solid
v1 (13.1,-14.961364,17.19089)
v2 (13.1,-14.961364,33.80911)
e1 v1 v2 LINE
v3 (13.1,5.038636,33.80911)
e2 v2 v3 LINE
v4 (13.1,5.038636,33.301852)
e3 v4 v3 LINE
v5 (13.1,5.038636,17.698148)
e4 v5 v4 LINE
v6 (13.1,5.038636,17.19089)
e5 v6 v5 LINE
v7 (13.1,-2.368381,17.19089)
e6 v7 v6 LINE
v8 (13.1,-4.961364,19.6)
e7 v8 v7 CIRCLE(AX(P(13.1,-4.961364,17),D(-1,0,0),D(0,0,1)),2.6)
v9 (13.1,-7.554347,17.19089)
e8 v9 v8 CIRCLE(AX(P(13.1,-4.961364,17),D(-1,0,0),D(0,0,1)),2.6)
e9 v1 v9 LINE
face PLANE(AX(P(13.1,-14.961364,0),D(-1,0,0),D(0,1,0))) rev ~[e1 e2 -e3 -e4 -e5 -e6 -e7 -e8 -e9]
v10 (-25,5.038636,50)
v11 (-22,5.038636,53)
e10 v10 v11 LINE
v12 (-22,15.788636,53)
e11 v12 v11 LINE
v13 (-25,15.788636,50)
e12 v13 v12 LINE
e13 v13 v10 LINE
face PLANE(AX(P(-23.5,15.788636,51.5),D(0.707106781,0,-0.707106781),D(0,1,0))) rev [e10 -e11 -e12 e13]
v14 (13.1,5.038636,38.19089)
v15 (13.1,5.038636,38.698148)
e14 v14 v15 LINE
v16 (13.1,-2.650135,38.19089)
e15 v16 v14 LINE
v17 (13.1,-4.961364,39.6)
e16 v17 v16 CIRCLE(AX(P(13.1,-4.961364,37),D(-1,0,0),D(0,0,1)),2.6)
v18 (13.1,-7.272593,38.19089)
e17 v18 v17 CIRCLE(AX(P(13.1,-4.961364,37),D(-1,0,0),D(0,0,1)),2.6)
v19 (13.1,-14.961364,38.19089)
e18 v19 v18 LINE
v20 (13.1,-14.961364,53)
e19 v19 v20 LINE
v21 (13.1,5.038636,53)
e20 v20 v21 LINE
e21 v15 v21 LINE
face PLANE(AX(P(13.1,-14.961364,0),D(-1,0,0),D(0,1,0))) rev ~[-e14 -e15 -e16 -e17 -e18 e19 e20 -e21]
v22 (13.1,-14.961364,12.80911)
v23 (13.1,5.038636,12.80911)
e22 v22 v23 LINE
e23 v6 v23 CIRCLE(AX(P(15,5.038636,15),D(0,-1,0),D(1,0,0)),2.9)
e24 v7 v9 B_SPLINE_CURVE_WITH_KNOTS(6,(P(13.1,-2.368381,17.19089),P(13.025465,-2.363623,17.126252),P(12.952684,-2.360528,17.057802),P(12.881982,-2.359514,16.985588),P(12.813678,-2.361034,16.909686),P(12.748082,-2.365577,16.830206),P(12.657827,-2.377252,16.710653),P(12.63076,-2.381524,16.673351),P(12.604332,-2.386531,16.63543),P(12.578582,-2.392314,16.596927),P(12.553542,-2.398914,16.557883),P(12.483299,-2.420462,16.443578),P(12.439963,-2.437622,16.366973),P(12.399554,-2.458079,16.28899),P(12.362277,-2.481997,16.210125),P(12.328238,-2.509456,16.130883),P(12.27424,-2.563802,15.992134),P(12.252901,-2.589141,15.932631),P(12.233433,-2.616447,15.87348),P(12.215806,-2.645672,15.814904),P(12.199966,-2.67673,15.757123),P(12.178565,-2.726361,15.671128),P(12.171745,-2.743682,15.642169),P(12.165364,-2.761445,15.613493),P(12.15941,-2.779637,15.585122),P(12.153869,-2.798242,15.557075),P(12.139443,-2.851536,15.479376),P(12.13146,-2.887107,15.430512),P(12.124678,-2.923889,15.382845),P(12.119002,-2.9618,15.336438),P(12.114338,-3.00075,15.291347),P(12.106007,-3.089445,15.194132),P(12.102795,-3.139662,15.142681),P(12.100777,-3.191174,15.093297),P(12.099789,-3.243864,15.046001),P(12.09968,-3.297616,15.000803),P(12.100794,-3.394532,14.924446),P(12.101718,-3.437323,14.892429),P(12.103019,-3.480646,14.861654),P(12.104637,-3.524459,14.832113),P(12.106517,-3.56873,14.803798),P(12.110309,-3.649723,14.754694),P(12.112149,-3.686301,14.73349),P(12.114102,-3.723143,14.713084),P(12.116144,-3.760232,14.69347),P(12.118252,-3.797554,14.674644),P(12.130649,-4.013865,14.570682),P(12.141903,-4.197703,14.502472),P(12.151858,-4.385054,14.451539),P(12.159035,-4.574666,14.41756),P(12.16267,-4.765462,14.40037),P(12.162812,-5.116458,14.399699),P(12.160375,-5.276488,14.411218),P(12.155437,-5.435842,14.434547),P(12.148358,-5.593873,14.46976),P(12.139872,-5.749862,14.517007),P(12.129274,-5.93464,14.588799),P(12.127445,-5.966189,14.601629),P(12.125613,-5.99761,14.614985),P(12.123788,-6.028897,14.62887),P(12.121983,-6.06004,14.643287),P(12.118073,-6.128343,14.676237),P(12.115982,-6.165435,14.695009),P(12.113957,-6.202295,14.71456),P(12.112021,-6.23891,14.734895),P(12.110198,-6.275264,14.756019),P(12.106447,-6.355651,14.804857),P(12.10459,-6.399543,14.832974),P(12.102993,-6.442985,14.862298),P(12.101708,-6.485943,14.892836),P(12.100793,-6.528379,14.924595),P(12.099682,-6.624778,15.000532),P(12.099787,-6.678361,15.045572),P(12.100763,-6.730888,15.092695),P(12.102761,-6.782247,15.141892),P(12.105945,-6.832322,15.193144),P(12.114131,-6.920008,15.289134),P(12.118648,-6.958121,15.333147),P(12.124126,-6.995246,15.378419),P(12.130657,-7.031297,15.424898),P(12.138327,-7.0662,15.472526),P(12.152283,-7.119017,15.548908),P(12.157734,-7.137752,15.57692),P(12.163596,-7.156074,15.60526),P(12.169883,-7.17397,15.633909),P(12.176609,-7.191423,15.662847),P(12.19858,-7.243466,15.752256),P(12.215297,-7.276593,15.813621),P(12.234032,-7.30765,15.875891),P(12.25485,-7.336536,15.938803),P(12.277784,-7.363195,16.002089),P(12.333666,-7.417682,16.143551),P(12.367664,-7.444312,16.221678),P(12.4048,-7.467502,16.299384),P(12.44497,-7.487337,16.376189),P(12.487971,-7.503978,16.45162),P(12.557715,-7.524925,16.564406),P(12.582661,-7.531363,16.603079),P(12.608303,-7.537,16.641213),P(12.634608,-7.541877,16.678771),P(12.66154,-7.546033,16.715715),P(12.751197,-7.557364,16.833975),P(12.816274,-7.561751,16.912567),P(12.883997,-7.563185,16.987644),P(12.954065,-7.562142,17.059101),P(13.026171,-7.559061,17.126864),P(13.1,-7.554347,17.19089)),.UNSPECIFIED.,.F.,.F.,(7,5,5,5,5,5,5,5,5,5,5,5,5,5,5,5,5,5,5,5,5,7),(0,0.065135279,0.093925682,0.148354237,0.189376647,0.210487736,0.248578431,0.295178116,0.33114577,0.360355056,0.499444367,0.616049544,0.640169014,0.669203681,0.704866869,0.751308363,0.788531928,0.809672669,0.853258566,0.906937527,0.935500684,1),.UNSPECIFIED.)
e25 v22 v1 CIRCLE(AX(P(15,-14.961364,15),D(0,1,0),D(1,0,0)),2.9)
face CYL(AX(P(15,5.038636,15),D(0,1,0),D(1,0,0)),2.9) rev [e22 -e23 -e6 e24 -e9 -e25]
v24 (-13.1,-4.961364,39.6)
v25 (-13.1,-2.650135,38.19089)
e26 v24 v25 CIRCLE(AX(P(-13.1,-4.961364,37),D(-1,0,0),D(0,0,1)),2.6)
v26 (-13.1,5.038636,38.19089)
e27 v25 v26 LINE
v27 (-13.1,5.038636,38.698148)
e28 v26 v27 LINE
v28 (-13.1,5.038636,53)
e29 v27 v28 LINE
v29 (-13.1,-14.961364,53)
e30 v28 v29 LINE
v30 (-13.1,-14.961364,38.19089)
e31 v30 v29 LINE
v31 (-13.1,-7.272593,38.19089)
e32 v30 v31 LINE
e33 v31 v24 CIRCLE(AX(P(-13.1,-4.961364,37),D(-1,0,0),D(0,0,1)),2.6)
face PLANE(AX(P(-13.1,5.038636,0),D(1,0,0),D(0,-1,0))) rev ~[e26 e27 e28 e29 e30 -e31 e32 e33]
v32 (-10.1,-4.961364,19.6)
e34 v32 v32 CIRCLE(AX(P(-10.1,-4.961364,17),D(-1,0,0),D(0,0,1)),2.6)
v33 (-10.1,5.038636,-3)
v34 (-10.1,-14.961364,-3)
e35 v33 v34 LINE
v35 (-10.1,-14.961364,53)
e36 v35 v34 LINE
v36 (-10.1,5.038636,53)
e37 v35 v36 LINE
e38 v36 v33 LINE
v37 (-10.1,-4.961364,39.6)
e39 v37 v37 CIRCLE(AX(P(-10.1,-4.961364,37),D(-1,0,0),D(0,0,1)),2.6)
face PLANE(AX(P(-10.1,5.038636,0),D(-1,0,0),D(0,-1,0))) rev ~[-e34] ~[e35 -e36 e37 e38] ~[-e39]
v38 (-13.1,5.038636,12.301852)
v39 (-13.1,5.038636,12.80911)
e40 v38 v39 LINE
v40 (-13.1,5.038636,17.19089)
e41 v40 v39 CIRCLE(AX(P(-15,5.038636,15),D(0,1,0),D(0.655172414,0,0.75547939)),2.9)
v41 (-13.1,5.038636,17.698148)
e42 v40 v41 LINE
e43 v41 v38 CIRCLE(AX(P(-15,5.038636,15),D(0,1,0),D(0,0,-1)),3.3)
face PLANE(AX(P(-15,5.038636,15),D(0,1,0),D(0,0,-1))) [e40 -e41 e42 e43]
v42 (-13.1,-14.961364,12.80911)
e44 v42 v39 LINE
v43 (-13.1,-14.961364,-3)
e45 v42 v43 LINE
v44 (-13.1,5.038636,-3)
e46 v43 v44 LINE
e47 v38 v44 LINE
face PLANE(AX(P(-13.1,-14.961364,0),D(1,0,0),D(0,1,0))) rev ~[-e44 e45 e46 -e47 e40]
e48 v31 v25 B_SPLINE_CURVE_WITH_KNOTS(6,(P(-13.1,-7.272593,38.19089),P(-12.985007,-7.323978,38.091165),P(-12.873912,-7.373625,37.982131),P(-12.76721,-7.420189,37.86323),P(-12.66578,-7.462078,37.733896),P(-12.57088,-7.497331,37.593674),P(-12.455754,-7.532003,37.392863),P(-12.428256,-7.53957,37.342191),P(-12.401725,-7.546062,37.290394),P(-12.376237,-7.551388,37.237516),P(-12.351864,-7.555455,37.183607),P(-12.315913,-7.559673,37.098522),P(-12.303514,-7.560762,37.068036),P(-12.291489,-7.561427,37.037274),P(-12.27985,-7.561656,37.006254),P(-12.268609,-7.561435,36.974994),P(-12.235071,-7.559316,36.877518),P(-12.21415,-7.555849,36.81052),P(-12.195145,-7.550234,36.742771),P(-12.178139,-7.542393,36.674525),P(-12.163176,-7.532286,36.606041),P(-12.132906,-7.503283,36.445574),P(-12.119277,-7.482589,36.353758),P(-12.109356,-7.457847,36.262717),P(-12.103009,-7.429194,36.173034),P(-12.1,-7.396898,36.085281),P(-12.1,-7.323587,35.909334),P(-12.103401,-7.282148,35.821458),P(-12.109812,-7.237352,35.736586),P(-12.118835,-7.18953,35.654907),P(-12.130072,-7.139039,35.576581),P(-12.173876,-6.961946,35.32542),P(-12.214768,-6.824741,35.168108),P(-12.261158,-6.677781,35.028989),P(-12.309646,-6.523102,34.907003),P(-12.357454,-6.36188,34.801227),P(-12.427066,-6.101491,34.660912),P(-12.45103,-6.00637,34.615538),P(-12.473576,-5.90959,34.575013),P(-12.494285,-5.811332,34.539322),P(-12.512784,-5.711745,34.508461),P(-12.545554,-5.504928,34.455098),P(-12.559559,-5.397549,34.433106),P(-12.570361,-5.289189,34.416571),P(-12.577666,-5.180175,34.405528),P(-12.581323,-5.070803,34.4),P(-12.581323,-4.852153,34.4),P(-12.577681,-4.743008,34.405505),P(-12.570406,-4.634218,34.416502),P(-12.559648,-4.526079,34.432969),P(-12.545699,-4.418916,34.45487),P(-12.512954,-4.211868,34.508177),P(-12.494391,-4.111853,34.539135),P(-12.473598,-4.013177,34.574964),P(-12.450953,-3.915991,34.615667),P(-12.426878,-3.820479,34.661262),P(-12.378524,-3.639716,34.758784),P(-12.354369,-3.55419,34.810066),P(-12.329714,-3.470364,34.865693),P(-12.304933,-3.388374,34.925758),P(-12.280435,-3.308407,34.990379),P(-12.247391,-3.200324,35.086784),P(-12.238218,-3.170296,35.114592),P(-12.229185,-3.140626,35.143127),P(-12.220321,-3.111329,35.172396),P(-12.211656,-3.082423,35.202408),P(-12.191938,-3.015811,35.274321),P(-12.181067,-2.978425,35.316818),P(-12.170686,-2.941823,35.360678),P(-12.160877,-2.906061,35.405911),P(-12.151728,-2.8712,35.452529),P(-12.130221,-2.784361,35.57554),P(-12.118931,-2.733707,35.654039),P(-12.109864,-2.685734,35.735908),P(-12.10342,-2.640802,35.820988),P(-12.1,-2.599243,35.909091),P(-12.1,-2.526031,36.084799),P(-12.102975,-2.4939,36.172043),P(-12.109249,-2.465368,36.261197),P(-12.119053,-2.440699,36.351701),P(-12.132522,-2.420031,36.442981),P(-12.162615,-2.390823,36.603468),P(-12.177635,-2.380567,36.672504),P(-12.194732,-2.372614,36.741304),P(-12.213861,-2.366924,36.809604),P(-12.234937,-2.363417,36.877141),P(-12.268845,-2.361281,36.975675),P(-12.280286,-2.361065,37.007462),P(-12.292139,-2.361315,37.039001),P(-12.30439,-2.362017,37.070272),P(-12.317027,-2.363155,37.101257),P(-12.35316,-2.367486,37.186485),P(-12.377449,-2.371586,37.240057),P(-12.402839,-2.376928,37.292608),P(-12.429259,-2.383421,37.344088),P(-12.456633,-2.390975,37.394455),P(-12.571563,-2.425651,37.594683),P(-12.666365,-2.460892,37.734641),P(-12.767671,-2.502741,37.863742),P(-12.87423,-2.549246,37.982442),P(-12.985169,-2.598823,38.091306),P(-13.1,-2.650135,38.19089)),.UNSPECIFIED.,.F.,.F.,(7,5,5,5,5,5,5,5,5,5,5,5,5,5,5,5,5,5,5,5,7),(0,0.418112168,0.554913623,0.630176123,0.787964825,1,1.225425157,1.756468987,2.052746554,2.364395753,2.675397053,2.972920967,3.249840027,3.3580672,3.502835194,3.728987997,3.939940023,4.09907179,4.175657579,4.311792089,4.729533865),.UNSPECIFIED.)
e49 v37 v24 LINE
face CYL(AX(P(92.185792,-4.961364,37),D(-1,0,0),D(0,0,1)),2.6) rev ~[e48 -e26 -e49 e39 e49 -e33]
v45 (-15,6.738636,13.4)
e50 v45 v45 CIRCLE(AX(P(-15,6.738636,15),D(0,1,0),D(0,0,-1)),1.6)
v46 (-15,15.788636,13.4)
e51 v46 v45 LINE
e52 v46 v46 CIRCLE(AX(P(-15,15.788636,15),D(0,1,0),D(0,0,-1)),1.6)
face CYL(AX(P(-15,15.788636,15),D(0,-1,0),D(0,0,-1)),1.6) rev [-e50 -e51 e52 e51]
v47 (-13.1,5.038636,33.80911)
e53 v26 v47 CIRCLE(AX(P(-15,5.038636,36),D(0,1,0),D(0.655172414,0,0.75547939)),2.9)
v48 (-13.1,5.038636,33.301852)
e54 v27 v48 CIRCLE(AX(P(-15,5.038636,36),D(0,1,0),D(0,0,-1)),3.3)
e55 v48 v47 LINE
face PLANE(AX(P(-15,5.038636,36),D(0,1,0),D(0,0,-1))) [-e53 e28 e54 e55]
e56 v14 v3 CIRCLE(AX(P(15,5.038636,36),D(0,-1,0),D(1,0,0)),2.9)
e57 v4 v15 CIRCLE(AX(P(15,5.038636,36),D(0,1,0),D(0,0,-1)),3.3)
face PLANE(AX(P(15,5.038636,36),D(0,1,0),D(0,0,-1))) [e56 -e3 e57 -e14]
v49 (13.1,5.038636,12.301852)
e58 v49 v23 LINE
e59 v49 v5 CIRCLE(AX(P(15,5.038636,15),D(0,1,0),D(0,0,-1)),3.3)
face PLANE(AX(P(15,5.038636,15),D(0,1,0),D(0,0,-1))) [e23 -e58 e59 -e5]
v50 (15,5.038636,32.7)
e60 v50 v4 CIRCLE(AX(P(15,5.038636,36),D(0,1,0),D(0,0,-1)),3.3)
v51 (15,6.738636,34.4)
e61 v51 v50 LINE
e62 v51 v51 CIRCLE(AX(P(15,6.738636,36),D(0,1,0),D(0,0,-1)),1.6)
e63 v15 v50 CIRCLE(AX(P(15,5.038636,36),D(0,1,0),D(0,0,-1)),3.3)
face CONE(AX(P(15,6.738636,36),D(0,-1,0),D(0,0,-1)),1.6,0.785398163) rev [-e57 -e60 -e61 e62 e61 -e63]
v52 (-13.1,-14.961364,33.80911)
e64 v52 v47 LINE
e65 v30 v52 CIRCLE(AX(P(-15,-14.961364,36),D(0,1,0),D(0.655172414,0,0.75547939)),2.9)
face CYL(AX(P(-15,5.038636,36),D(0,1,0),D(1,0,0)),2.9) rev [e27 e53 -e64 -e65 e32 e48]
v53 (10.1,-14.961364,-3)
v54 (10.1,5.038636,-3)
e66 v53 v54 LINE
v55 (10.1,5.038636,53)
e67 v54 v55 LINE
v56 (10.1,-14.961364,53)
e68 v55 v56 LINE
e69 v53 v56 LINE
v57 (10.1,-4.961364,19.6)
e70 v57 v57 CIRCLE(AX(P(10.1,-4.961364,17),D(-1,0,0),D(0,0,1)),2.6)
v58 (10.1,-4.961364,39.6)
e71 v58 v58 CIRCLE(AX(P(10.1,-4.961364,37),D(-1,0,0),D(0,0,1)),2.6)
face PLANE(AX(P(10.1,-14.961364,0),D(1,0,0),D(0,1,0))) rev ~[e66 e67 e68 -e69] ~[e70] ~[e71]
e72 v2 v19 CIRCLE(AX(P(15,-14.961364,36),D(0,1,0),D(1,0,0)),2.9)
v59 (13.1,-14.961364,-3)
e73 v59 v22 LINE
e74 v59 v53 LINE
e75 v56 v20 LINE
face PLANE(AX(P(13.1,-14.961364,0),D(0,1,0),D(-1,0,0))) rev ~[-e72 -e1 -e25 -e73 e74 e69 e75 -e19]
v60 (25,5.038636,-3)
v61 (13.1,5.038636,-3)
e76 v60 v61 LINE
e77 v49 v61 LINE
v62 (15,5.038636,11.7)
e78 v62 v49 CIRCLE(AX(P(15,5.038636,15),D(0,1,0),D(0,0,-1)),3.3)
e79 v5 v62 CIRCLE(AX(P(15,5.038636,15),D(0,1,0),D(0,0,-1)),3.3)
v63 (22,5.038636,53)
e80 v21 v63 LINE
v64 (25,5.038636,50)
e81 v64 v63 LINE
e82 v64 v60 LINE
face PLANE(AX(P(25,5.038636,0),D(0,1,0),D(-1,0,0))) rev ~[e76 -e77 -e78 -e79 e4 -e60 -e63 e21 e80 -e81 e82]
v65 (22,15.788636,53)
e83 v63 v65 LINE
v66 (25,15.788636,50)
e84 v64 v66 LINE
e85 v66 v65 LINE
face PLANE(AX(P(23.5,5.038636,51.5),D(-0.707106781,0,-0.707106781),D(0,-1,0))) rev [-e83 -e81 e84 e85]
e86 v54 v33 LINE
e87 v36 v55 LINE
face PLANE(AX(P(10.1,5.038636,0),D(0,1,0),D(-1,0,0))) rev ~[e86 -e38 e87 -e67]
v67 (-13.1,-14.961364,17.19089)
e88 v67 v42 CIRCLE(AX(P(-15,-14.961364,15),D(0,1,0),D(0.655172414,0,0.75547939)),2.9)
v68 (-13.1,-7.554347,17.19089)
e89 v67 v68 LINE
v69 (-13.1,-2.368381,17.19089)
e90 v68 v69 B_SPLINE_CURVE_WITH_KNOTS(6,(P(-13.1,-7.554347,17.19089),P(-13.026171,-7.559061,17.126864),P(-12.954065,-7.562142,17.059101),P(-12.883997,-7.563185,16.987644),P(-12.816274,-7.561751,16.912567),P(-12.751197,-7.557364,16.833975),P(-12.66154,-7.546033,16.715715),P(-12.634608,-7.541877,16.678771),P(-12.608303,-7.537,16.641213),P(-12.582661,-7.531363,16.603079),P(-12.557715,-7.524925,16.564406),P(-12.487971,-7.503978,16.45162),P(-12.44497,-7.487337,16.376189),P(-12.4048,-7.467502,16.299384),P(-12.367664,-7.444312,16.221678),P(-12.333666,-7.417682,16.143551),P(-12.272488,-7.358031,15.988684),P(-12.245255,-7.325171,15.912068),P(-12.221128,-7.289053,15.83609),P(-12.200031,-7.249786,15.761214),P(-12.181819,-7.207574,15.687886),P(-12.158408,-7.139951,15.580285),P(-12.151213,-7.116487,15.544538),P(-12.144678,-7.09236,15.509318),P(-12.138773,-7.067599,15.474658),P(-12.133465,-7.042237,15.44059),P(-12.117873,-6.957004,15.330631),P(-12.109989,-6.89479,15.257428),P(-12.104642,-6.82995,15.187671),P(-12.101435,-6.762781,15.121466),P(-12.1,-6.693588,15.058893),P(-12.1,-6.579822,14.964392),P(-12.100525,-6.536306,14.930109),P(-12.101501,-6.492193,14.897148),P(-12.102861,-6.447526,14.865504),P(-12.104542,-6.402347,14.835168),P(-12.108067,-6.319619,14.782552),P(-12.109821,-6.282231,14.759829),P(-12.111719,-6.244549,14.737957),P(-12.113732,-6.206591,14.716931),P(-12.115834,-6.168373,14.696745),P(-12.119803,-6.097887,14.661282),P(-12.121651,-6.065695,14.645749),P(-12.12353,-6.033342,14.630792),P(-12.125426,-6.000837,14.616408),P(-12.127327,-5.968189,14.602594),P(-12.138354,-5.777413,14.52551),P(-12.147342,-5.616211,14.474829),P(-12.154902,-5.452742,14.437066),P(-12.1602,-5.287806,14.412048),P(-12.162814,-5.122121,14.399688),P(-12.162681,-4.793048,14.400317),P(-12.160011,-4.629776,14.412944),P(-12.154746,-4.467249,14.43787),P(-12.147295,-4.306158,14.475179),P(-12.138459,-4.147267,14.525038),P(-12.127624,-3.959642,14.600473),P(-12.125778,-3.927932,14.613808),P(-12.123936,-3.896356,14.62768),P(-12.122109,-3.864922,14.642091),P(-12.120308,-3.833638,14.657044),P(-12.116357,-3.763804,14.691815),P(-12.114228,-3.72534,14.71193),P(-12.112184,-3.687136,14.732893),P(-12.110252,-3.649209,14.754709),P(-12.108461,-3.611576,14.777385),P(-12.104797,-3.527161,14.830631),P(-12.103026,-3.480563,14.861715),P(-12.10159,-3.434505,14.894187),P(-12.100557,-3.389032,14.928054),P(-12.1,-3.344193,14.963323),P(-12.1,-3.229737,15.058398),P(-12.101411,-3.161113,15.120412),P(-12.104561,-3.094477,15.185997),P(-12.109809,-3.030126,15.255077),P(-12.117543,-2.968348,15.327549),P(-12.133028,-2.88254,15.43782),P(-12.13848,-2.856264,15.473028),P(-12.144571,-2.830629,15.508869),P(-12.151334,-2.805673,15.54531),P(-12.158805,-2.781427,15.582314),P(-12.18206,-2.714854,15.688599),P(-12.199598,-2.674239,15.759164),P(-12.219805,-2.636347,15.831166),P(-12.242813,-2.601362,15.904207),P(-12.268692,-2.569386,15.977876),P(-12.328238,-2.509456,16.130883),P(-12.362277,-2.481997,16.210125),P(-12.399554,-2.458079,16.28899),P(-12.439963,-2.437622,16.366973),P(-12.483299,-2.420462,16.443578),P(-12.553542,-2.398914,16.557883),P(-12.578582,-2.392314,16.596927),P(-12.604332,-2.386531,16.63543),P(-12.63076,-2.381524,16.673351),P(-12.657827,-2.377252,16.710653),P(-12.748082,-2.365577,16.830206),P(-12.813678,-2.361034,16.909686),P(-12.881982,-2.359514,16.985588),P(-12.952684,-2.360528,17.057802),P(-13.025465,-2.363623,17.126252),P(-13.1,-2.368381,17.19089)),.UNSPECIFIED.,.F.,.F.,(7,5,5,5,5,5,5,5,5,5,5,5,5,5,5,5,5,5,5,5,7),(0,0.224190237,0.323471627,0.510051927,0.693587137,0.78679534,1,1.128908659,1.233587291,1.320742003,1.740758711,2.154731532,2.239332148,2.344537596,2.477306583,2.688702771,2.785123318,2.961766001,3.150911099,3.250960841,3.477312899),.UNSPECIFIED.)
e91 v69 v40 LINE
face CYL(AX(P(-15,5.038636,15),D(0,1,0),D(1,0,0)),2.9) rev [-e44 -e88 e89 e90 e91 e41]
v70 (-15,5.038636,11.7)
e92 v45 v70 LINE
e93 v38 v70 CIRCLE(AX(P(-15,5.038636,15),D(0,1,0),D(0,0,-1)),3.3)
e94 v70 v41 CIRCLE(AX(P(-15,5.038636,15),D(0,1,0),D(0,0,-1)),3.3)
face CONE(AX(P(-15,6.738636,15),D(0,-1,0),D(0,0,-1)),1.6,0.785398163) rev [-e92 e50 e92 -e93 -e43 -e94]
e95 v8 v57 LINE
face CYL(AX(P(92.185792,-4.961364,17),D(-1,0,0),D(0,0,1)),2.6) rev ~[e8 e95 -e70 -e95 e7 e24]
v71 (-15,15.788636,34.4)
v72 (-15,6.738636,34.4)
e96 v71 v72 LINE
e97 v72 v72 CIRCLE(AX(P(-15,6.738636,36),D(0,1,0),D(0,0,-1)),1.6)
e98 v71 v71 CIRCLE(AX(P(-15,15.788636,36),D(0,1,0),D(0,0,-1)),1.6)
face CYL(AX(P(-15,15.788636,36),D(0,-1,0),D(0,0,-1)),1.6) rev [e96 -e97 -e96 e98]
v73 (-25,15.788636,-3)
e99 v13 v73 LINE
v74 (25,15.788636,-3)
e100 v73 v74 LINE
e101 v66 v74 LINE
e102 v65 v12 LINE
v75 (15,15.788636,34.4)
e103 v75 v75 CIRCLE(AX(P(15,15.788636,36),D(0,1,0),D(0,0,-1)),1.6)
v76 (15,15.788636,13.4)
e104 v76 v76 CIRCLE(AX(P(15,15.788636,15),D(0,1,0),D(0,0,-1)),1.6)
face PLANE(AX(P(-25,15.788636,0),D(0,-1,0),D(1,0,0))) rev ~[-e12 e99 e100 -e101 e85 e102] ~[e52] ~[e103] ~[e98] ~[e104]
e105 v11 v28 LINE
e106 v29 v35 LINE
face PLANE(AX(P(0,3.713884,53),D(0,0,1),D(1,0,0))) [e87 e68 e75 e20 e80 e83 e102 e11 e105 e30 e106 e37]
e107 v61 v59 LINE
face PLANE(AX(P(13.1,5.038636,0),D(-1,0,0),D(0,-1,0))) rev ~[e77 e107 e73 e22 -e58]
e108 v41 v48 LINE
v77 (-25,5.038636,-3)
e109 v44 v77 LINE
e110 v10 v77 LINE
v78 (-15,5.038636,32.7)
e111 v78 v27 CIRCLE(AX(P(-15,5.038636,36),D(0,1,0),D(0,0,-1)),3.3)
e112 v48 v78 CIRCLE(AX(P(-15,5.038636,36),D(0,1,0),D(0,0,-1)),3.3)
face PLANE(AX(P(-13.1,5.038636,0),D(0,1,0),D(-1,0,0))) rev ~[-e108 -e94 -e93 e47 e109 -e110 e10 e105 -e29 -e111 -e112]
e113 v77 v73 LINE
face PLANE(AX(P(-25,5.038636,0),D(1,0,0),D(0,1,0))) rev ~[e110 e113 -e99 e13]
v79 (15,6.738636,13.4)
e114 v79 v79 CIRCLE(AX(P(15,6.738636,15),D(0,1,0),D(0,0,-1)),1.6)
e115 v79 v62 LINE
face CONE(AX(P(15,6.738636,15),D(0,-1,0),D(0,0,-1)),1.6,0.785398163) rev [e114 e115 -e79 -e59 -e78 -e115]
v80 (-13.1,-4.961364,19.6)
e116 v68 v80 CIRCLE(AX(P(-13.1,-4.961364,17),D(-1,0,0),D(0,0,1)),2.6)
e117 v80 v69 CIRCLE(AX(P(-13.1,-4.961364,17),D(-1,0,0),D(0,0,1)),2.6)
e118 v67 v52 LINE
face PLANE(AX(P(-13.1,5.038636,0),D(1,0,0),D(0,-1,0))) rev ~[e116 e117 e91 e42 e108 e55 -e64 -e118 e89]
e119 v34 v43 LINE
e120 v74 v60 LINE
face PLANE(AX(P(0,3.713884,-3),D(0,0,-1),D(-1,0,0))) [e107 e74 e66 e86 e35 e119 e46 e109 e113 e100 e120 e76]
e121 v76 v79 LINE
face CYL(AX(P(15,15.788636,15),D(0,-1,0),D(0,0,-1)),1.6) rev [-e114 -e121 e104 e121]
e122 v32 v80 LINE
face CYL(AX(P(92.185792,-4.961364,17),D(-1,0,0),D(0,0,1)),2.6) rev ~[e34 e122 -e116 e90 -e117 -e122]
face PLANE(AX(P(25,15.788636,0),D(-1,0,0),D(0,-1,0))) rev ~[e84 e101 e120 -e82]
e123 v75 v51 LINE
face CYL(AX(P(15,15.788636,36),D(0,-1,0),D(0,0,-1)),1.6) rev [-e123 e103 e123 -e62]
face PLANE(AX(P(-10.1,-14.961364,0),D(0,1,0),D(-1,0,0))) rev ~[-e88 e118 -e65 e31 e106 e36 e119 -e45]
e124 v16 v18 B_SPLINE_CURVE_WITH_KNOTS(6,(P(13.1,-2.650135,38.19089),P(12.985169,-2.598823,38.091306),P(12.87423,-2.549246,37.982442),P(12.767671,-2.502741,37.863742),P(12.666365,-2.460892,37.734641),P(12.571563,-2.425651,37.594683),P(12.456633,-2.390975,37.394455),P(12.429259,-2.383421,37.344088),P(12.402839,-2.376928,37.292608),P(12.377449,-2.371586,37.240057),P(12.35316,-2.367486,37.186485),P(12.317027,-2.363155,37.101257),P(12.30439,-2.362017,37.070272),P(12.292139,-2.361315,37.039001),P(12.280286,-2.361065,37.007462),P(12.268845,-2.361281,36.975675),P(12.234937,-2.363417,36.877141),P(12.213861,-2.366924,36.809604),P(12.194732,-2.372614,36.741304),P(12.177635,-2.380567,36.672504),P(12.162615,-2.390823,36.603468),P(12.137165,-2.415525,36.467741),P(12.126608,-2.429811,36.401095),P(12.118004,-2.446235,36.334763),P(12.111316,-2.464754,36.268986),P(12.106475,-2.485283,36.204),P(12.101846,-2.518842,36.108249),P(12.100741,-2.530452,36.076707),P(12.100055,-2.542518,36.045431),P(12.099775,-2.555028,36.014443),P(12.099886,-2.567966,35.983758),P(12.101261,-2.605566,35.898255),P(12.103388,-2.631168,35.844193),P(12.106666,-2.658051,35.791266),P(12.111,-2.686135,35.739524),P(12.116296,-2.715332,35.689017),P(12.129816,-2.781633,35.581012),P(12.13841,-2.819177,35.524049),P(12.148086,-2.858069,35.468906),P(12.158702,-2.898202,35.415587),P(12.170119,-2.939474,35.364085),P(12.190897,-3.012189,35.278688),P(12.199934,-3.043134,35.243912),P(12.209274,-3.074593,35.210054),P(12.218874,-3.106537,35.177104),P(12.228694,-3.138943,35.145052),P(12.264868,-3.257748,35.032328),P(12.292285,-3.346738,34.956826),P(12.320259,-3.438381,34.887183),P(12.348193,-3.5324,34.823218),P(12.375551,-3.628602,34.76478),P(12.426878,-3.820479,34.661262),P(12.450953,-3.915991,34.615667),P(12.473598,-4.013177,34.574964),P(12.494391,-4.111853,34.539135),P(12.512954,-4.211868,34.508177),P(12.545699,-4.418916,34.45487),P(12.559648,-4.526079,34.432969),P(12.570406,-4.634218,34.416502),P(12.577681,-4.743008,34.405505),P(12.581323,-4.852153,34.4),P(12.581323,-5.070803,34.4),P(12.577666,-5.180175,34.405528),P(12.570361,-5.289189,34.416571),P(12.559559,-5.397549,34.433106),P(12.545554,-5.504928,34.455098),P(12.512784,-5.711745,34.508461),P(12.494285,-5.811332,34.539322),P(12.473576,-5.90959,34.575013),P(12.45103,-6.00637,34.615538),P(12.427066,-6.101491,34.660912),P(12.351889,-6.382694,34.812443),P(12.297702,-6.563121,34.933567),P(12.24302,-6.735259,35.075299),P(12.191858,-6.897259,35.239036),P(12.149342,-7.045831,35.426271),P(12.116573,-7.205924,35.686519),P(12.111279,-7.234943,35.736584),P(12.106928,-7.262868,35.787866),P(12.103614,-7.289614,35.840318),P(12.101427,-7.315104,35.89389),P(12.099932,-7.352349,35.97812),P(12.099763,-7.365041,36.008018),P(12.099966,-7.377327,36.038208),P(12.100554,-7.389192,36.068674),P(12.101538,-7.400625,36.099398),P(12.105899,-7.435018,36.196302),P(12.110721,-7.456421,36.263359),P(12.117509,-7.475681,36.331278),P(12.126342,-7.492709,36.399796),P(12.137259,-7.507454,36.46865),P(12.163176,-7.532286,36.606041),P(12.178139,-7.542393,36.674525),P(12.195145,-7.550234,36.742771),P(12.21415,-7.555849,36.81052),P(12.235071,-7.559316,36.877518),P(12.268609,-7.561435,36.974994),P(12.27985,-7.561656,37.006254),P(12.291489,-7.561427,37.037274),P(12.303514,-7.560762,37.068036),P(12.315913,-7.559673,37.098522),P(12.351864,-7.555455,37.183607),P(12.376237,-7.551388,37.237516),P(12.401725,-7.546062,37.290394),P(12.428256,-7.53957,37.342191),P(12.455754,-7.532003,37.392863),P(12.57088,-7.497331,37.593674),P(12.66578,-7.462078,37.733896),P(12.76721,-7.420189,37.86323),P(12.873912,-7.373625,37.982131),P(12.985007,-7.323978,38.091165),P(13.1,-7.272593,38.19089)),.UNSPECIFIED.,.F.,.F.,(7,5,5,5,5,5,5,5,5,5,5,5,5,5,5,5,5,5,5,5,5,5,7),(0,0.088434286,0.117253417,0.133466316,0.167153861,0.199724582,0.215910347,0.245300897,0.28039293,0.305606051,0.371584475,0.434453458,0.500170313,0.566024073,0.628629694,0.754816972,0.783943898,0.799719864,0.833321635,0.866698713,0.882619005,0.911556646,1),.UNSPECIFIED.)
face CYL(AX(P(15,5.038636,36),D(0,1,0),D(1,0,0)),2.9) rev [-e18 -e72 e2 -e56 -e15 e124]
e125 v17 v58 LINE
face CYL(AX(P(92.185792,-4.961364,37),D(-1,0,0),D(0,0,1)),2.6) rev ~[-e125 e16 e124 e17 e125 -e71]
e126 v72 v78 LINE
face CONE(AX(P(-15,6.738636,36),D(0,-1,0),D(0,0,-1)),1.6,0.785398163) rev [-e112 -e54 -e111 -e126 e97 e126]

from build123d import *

# Parameters (mm, degrees)
EXTRUDE_1_DEPTH             = 53
HOLE_WIZARD_1_D             = 3
SKETCH_6_R                  = 2.9
CUT_EXTRUDE_1_DEPTH         = 62.919302322
CHAMFER_1_SIZE              = 3
HOLE_WIZARD_2_D             = 5.2
HOLE_WIZARD_M3_1_AT_2_COUNT = 2
HOLE_WIZARD_M3_1_AT_2_PITCH = 30
HOLE_WIZARD_M3_1_AT_3_COUNT = 2
HOLE_WIZARD_M3_1_AT_3_PITCH = 36.619666847
HOLE_WIZARD_M3_1_AT_4_COUNT = 2
HOLE_WIZARD_M3_1_AT_4_PITCH = 21
EXTRUDE_2_DEPTH             = 3


with BuildPart() as part:
    # 草图1 → 凸台-拉伸1 (new body)
    with BuildSketch(Plane.XY):
        Polygon((-13.1, -14.961364275), (-10.1, -14.961364275), (-10.1, 5.038635725), (10.1, 5.038635725), (10.1, -14.961364275), (13.1, -14.961364275), (13.1, 5.038635725), (25, 5.038635725), (25, 15.788635725), (-25, 15.788635725), (-25, 5.038635725), (-13.1, 5.038635725), align=None)
    extrude(amount=EXTRUDE_1_DEPTH)

    # 孔1 (through all)
    with Locations(Plane(origin=(0, 5.038635725, 0), x_dir=(-1, 0, 0), z_dir=(0, -1, 0))):
        with Locations((15, -15), (15, -36), (-15, -15), (-15, -36)):
            Hole(HOLE_WIZARD_1_D / 2)

    # 草图6 → 切除-拉伸1 (cut, through all)
    with BuildSketch(Plane.XZ.offset(-5.038635725)):
        with Locations((15, 36)):
            Circle(SKETCH_6_R)
        with Locations((15, 15)):
            Circle(SKETCH_6_R)
        with Locations((-15, 15)):
            Circle(SKETCH_6_R)
        with Locations((-15, 36)):
            Circle(SKETCH_6_R)
    extrude(amount=CUT_EXTRUDE_1_DEPTH, mode=Mode.SUBTRACT)

    # 倒角1
    chamfer_1_edges = [part.edges().sort_by_distance(p)[0] for p in [
        (-25, 10.413635725, 53),
        (25, 10.413635725, 53),
    ]]
    chamfer(chamfer_1_edges, length=CHAMFER_1_SIZE)

    # 孔2 (through all)
    with Locations(Plane(origin=(13.1, 0, 0), x_dir=(0, 0, -1), z_dir=(1, 0, 0))):
        with Locations((-17, -4.961364275), (-37, -4.961364275)):
            Hole(HOLE_WIZARD_2_D / 2)

    # 草图10 → M3 十字槽沉头木螺钉的锥形沉头孔1 (revolve, cut)
    with BuildSketch(Plane(origin=(15, 5.038635725, 15), x_dir=(0, 0, -1), z_dir=(1, 0, 0))):
        Polygon((0, 0), (0, 10.75), (1.6, 10.75), (1.6, 1.7), (3.3, 0), align=None)
    hole_wizard_m3_1 = revolve(axis=Axis((15, -1.311364275, 15), (0, 1, 0)), mode=Mode.SUBTRACT)

    # M3 十字槽沉头木螺钉的锥形沉头孔1 at 2: M3 十字槽沉头木螺钉的锥形沉头孔1 ×2
    with Locations(*[(-i * HOLE_WIZARD_M3_1_AT_2_PITCH, 0, 0) for i in range(1, HOLE_WIZARD_M3_1_AT_2_COUNT)]):
        add(hole_wizard_m3_1, mode=Mode.SUBTRACT)

    # M3 十字槽沉头木螺钉的锥形沉头孔1 at 3: M3 十字槽沉头木螺钉的锥形沉头孔1 ×2
    with Locations(*[Vector(-0.8192319205190406, 0, 0.5734623443633283) * (i * HOLE_WIZARD_M3_1_AT_3_PITCH) for i in range(1, HOLE_WIZARD_M3_1_AT_3_COUNT)]):
        add(hole_wizard_m3_1, mode=Mode.SUBTRACT)

    # M3 十字槽沉头木螺钉的锥形沉头孔1 at 4: M3 十字槽沉头木螺钉的锥形沉头孔1 ×2
    with Locations(*[(0, 0, i * HOLE_WIZARD_M3_1_AT_4_PITCH) for i in range(1, HOLE_WIZARD_M3_1_AT_4_COUNT)]):
        add(hole_wizard_m3_1, mode=Mode.SUBTRACT)

    # 草图12 → 凸台-拉伸2 (add)
    with BuildSketch(Plane(origin=(0, 0, 0), x_dir=(-1, 0, 0), z_dir=(0, 0, -1))):
        Polygon((-10.1, 5.038635725), (10.1, 5.038635725), (10.1, -14.961364275), (13.1, -14.961364275), (13.1, 5.038635725), (25, 5.038635725), (25, 15.788635725), (-25, 15.788635725), (-25, 5.038635725), (-13.1, 5.038635725), (-13.1, -14.961364275), (-10.1, -14.961364275), align=None)
    extrude(amount=EXTRUDE_2_DEPTH)


solid = part.part
